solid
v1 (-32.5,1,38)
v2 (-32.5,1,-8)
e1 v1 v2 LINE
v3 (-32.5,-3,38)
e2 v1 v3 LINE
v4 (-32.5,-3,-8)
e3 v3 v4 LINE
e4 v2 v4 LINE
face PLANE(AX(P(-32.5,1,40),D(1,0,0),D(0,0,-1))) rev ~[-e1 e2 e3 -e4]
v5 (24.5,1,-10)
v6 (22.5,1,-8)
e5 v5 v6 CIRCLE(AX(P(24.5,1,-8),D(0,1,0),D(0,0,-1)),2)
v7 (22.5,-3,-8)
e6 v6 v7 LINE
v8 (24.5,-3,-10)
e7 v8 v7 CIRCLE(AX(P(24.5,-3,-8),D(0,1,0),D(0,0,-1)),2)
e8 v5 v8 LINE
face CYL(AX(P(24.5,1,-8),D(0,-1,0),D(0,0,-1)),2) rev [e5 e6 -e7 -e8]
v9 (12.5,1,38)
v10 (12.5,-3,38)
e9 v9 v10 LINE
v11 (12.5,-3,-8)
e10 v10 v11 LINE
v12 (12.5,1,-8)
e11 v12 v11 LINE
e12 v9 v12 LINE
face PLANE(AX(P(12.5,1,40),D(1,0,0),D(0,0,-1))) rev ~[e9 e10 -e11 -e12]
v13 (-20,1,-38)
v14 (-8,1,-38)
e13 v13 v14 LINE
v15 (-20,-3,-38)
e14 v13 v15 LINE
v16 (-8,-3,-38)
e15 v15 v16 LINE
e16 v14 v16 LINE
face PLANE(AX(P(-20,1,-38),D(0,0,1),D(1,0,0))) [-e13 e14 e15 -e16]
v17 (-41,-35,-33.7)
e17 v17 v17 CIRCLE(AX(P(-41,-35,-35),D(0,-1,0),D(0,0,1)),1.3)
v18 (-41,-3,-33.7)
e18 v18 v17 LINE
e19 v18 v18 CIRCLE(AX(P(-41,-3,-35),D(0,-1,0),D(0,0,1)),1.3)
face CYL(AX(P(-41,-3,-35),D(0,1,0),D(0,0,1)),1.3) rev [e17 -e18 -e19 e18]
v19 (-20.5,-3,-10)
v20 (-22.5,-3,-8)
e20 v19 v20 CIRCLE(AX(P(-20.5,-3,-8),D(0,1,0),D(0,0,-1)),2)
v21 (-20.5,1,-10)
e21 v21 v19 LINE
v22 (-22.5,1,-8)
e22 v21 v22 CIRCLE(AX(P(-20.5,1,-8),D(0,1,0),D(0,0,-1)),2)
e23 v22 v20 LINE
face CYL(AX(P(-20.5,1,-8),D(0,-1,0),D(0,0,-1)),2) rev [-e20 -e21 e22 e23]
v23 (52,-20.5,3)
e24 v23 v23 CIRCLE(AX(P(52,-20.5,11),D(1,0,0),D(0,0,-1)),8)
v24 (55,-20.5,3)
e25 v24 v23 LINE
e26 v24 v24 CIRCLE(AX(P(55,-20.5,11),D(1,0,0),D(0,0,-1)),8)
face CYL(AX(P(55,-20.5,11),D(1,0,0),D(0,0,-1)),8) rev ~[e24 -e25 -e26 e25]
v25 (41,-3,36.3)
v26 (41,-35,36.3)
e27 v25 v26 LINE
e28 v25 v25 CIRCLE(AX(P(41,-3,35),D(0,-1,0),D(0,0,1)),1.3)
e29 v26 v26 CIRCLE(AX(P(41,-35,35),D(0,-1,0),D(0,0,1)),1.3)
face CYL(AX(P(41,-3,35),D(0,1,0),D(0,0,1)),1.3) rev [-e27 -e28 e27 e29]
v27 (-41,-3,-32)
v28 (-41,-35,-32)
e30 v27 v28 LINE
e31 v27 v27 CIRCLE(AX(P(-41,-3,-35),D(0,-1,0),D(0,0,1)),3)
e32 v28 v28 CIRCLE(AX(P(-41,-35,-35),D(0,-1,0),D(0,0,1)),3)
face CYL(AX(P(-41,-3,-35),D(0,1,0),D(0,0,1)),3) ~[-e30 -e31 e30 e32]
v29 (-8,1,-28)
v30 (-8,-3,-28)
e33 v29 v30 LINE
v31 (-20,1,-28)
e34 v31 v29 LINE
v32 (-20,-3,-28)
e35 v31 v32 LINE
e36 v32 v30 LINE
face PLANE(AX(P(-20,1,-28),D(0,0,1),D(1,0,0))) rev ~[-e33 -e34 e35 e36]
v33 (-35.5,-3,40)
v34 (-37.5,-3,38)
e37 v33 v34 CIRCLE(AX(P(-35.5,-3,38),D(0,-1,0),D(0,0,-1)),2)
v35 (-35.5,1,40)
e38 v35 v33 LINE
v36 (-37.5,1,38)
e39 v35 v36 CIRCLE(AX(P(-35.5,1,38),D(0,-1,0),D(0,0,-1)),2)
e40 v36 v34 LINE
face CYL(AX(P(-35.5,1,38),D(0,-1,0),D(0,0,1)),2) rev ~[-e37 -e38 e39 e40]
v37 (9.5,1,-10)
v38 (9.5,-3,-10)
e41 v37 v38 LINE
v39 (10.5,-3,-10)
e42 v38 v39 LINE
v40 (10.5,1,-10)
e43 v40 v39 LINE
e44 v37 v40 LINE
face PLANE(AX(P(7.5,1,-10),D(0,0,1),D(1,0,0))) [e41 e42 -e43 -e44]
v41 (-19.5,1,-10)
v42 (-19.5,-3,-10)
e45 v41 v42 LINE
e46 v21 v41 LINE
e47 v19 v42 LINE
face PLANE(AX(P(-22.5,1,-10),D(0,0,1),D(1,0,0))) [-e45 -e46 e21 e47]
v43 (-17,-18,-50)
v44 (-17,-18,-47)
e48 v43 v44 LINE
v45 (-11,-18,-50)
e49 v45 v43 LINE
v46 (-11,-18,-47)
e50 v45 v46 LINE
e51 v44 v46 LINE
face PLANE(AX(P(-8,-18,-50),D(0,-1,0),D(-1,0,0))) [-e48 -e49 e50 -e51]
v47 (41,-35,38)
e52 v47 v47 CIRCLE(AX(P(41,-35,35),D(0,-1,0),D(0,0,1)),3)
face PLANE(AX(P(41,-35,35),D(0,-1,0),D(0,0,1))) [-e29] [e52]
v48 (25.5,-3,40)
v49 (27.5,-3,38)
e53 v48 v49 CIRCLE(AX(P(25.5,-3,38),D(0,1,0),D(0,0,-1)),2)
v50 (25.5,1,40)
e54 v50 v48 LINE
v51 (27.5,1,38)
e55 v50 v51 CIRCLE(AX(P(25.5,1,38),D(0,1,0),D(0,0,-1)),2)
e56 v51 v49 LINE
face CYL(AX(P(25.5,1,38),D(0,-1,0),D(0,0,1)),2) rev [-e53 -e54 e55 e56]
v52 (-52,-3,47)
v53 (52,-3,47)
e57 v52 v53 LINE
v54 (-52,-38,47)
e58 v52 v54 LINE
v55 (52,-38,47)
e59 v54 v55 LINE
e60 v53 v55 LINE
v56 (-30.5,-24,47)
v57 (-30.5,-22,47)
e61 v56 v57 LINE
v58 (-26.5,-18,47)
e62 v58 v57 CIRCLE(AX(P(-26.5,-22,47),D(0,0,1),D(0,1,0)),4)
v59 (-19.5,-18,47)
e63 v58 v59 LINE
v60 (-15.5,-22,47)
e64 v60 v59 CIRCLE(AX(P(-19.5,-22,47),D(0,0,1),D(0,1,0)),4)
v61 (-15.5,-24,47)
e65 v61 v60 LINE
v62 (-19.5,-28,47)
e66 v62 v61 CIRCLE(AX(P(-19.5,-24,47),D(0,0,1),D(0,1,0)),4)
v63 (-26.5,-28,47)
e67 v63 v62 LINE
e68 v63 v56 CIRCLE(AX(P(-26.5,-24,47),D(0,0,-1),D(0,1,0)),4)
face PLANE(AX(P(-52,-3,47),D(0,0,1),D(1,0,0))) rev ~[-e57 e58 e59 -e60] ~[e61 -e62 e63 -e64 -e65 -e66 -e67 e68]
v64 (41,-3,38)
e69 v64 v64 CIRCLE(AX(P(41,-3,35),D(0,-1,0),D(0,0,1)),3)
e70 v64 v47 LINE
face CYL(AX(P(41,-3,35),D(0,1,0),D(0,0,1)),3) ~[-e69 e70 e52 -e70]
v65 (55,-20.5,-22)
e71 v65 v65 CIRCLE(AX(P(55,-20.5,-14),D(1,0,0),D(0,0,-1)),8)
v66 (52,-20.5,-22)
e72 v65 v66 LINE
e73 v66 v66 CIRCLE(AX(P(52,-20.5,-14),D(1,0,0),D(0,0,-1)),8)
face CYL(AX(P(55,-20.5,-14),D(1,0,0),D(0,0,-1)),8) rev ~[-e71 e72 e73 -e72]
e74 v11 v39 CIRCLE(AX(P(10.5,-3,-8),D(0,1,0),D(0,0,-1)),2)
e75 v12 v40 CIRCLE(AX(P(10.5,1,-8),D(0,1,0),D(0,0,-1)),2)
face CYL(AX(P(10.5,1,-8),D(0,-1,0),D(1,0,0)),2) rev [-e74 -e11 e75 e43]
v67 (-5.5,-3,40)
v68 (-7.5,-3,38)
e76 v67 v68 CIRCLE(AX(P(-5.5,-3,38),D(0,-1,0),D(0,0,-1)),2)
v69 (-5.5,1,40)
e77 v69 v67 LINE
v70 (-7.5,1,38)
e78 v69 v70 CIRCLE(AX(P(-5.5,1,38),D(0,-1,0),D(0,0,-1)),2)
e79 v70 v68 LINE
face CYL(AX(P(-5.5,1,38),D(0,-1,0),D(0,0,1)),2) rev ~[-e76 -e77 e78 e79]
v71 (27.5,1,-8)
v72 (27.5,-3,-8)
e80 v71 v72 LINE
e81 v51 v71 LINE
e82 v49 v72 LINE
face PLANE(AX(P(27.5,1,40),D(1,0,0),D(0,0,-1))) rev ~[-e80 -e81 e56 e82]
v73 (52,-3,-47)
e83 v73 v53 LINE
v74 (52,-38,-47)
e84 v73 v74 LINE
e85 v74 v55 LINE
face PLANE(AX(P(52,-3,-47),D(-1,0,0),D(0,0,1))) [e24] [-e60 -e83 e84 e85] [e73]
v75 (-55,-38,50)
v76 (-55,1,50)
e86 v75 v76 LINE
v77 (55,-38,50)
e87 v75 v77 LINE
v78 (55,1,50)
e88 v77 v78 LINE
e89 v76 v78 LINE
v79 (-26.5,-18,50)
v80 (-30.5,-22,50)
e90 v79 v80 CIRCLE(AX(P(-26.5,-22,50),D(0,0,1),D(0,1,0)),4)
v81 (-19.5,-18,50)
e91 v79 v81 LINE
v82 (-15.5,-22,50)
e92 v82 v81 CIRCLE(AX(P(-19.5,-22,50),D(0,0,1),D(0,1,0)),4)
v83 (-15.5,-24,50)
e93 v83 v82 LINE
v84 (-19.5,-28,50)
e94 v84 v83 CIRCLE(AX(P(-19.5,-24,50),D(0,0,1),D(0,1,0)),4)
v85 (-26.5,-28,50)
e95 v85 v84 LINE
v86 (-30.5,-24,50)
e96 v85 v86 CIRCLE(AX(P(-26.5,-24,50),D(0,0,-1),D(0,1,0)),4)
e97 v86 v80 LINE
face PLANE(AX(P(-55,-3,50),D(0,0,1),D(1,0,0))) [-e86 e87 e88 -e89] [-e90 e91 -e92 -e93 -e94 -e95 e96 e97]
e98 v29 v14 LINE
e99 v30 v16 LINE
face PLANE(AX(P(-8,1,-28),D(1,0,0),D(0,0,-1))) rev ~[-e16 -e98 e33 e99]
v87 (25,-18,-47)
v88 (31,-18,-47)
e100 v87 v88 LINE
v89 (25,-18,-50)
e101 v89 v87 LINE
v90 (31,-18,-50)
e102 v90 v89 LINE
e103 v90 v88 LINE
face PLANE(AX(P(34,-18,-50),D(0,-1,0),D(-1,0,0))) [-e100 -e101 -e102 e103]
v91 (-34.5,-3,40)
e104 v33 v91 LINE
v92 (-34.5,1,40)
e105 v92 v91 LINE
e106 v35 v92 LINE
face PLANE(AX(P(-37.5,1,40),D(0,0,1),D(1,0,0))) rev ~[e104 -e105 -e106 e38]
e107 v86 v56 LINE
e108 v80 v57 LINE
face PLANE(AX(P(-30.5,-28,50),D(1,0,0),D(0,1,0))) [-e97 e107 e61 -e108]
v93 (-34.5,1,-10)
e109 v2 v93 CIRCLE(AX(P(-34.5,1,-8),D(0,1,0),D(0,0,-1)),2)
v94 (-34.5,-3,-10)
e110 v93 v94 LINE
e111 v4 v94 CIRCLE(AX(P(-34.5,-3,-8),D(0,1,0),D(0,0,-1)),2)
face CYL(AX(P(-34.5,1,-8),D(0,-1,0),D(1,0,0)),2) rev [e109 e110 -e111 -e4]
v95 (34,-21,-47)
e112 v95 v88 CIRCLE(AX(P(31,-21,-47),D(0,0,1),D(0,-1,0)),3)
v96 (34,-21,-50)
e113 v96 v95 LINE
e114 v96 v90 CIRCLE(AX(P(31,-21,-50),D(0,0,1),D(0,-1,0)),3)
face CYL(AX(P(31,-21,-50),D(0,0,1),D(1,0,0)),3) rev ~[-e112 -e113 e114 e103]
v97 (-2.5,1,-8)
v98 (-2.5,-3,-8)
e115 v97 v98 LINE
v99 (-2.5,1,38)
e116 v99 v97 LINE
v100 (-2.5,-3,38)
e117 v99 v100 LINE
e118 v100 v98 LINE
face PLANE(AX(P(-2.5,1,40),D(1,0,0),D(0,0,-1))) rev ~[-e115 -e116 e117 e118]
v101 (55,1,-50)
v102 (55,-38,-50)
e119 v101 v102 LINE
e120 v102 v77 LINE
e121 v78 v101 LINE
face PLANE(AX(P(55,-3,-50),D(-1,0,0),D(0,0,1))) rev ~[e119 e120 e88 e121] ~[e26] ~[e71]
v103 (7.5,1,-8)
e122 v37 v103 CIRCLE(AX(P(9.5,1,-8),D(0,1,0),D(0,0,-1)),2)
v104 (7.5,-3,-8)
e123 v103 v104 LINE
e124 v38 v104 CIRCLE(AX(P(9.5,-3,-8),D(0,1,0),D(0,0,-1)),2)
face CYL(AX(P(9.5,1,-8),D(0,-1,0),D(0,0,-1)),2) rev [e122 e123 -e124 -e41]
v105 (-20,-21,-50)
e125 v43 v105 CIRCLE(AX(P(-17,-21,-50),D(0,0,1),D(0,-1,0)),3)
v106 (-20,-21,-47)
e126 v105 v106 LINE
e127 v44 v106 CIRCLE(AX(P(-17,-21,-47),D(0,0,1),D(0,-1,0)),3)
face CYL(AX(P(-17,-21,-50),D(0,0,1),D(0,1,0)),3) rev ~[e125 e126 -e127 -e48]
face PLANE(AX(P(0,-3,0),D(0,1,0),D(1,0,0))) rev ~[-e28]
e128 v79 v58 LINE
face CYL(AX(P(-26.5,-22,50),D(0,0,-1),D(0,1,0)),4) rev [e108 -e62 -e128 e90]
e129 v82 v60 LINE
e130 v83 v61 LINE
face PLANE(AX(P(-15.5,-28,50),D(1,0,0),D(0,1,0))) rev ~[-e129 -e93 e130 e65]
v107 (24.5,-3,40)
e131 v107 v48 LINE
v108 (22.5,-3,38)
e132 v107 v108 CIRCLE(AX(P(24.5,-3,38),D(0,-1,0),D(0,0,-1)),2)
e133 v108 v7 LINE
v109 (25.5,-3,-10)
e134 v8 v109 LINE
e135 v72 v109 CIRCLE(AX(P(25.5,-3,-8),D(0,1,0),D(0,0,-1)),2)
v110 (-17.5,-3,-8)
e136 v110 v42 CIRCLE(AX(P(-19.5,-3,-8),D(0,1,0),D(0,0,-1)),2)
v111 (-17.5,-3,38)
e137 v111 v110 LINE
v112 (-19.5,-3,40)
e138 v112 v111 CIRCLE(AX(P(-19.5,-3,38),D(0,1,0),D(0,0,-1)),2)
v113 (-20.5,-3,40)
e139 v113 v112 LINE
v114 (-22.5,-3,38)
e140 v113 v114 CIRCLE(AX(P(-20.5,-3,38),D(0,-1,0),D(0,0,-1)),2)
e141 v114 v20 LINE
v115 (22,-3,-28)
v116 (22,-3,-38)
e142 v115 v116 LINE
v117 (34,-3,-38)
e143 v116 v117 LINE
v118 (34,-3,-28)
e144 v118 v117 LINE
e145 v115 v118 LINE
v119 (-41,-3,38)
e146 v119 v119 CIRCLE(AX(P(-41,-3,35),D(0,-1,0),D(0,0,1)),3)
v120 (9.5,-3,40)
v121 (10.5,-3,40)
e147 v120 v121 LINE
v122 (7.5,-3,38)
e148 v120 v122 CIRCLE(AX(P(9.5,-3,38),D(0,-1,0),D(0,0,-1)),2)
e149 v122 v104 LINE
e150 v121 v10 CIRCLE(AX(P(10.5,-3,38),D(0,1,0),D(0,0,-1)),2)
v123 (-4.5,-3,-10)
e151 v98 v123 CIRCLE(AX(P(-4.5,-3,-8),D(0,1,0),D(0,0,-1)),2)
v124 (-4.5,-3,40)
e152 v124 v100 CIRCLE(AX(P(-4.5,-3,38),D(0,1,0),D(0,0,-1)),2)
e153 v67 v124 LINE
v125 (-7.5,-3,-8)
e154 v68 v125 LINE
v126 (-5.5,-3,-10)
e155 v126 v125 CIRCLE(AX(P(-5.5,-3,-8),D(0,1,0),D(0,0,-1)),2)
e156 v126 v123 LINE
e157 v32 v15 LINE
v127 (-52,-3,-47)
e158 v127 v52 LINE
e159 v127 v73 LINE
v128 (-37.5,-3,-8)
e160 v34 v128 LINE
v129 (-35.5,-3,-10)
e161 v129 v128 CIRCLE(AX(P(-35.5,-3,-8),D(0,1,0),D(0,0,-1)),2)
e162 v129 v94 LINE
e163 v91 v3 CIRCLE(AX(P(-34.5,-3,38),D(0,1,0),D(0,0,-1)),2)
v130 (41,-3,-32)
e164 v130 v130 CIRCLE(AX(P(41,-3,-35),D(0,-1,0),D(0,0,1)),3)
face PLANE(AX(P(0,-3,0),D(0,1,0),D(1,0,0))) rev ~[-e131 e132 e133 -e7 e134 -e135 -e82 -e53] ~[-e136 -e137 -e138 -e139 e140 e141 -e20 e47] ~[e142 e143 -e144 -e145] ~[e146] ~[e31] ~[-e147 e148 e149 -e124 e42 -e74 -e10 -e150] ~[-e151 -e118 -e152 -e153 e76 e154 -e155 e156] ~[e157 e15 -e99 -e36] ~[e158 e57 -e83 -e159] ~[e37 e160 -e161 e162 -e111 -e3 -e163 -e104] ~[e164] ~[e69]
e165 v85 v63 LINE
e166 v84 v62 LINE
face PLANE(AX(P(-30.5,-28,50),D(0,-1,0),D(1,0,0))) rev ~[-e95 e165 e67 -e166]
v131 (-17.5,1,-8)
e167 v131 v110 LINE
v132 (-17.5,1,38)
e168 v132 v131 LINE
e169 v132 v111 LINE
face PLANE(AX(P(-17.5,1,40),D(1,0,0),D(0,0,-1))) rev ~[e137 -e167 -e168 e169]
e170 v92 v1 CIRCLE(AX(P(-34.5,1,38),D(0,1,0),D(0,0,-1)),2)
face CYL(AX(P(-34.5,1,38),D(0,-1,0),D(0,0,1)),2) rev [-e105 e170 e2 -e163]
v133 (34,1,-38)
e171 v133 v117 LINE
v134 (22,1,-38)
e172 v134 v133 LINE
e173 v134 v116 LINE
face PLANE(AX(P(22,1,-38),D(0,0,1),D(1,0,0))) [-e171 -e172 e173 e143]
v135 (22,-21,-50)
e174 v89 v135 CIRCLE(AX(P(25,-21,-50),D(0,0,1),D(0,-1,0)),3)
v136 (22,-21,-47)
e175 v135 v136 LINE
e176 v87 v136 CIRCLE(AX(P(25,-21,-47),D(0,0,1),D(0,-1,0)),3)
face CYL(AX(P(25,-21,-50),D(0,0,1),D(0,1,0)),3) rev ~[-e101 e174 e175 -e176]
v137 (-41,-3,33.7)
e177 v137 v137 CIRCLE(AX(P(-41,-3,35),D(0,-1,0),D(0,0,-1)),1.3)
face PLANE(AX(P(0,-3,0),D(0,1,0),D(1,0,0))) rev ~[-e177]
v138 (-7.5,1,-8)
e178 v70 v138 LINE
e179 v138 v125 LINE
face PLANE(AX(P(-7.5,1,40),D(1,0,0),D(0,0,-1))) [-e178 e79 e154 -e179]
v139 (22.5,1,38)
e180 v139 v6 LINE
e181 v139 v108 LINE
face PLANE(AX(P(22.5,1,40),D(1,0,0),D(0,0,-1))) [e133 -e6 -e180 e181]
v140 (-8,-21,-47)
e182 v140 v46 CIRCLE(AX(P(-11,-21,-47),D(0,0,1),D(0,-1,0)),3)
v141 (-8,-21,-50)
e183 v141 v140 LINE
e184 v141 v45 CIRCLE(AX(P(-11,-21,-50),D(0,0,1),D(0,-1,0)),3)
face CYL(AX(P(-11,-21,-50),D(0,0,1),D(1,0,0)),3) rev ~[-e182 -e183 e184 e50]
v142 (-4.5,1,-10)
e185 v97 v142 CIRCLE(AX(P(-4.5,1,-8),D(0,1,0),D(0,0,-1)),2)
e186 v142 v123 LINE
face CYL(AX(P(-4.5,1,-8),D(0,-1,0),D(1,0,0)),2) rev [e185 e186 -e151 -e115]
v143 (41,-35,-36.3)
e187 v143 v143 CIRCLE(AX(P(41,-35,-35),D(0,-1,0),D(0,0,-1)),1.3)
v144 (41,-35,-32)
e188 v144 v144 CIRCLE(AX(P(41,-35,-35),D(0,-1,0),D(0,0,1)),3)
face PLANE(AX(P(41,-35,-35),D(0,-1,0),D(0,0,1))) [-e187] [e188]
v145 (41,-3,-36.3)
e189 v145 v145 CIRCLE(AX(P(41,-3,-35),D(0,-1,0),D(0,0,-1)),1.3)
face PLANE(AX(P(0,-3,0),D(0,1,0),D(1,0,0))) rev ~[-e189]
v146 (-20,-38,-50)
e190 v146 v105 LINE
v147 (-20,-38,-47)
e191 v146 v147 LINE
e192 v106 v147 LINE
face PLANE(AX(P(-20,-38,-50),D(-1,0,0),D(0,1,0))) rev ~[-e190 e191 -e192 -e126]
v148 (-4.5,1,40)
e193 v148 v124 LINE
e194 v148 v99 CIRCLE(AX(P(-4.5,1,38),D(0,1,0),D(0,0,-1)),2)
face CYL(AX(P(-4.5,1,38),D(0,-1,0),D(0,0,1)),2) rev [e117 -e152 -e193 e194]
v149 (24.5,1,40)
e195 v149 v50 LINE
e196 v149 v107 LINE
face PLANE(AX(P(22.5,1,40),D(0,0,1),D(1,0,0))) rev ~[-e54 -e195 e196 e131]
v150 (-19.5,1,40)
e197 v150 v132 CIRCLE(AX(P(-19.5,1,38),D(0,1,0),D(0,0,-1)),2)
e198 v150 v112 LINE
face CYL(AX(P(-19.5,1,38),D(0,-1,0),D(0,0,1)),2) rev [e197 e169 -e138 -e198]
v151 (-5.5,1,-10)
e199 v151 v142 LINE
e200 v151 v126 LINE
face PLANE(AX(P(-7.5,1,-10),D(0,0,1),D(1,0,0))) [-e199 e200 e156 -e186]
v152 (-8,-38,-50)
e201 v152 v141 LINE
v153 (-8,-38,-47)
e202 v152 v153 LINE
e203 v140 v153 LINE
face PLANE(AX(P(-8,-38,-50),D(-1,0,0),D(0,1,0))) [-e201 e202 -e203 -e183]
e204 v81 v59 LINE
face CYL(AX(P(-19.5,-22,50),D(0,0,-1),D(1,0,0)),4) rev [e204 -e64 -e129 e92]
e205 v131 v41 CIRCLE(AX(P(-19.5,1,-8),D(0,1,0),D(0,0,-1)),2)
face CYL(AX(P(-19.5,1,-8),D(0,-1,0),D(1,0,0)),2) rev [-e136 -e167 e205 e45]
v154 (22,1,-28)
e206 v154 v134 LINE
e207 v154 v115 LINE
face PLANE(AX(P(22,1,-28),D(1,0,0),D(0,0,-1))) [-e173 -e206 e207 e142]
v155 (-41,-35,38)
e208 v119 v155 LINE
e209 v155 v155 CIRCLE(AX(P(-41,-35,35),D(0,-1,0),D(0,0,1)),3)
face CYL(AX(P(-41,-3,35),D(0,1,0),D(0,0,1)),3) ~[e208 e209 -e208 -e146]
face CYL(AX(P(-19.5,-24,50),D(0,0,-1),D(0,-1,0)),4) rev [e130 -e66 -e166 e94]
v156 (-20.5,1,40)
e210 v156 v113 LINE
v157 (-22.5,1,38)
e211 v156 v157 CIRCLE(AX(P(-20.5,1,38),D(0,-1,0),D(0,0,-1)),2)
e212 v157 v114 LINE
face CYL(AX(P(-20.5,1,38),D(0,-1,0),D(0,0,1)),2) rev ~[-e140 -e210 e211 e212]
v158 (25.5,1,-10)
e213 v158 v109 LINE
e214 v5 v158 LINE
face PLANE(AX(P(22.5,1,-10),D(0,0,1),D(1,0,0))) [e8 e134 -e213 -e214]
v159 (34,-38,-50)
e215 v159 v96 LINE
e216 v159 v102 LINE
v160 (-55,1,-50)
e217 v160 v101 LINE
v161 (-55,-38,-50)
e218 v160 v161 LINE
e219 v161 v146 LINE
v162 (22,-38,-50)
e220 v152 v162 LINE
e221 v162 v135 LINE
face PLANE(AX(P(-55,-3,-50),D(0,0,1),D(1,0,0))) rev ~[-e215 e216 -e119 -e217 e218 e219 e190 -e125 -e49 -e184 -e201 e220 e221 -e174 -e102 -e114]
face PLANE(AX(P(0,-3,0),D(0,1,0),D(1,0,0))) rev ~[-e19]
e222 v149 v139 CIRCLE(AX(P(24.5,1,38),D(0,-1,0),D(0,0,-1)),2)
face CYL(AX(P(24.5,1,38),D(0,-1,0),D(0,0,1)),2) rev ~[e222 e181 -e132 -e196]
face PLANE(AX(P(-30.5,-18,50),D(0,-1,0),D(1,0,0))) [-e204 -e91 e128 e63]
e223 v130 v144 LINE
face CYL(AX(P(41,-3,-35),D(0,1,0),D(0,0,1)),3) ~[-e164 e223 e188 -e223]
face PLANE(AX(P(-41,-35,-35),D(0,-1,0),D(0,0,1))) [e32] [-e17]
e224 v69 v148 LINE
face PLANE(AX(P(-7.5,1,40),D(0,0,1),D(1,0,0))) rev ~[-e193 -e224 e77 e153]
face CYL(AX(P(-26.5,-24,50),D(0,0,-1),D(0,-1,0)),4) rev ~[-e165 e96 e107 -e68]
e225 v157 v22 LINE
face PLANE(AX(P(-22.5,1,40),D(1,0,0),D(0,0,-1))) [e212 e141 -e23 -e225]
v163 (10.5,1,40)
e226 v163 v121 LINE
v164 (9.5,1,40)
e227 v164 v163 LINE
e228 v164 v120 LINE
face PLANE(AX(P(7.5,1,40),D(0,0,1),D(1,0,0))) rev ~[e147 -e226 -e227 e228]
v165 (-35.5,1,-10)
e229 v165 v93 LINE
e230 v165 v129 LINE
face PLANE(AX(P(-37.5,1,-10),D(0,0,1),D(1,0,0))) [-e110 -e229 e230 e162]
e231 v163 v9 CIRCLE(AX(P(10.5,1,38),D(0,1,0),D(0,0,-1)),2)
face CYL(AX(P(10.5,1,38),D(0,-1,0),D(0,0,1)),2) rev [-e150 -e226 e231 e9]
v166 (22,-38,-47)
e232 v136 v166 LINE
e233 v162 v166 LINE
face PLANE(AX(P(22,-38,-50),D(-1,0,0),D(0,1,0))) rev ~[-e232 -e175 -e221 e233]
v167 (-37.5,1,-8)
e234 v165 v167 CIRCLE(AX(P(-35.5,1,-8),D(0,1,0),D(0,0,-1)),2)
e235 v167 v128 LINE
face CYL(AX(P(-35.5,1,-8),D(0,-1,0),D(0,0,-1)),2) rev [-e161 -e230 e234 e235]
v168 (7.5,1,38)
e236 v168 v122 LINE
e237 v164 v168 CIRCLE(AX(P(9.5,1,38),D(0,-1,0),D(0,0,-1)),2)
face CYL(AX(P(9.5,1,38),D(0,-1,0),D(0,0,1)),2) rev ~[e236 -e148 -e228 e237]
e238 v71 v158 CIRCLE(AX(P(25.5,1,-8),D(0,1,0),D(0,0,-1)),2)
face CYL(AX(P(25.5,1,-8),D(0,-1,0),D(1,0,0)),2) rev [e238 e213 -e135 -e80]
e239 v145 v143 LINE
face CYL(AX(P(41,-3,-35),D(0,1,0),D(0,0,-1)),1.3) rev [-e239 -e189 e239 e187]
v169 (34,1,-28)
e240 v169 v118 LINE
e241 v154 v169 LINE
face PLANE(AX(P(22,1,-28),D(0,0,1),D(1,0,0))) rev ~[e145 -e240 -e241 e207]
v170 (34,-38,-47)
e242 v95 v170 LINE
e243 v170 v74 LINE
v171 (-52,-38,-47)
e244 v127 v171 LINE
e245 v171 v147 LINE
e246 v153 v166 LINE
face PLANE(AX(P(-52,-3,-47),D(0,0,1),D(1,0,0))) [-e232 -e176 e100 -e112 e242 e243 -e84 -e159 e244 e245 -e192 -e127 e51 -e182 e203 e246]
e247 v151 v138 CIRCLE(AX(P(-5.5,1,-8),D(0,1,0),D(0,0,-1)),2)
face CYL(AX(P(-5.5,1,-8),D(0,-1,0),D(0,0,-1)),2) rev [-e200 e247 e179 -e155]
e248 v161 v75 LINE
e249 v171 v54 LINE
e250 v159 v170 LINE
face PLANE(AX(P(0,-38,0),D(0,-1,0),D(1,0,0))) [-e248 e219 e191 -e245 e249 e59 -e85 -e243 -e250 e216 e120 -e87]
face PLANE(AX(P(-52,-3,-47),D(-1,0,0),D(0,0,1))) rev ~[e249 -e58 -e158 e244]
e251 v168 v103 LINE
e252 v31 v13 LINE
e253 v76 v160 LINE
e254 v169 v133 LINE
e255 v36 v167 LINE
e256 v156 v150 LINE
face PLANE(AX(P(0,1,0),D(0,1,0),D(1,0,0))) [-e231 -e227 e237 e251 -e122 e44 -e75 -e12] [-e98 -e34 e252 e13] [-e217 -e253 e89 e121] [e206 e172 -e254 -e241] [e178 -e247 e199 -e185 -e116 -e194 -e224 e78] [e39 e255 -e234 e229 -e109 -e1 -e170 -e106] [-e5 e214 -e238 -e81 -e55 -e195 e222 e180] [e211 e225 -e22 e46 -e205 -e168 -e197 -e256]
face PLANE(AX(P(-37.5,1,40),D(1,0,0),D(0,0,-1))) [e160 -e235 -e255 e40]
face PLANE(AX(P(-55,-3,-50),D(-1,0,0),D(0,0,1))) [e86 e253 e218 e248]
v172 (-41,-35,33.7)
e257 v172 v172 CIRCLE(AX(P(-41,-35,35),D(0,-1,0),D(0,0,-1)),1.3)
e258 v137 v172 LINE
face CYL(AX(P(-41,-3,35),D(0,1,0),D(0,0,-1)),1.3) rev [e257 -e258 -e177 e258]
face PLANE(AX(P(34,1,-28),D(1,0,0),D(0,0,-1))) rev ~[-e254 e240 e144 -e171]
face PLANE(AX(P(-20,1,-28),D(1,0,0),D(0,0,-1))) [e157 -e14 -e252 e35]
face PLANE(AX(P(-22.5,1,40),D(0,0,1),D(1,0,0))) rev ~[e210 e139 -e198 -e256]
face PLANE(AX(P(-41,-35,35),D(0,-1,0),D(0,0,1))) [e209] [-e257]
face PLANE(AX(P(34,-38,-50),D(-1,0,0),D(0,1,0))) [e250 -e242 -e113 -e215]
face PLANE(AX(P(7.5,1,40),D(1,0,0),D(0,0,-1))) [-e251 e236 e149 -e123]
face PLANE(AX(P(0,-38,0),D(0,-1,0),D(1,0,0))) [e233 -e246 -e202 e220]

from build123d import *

# Parameters (mm, degrees)
BOSS_EXTRUDE1_DEPTH      = 1
BOSS_EXTRUDE1_DEPTH_BACK = 3
SKETCH1_W                = 110
SKETCH1_H                = 100
SKETCH2_W                = 110
SKETCH2_H                = 100
SKETCH2_W_2              = 104
SKETCH2_H_2              = 94
BOSS_EXTRUDE2_DEPTH      = 35
SKETCH3_R                = 3
SKETCH3_R_2              = 1.3
BOSS_EXTRUDE3_DEPTH      = 32
SKETCH5_W                = 12
SKETCH5_H                = 20
CUT_EXTRUDE5_DEPTH       = 32
SKETCH6_W                = 15
SKETCH6_H                = 10
CUT_EXTRUDE6_DEPTH       = 32
SKETCH7_R                = 8
CUT_EXTRUDE7_DEPTH       = 22
SKETCH8_W                = 12
SKETCH8_H                = 10
CUT_EXTRUDE8_DEPTH       = 22
SKETCH9_W                = 5
SKETCH9_H                = 50
CUT_EXTRUDE9_DEPTH       = 10
FILLET1_R                = 2
FILLET2_R                = 3
FILLET3_R                = 4


with BuildPart() as part:
    # Sketch1 → Boss-Extrude1 (new, two sides: drawn at the far end of the back side and taken through both)
    with BuildSketch(Plane(origin=(0, 0, 0), x_dir=(1, 0, 0), z_dir=(0, 1, 0)).offset(-BOSS_EXTRUDE1_DEPTH_BACK)):
        Rectangle(SKETCH1_W, SKETCH1_H)
    extrude(amount=BOSS_EXTRUDE1_DEPTH + BOSS_EXTRUDE1_DEPTH_BACK)

    # Sketch2 → Boss-Extrude2 (add)
    with BuildSketch(Plane.XZ.offset(3)):
        Rectangle(SKETCH2_W, SKETCH2_H)
        Rectangle(SKETCH2_W_2, SKETCH2_H_2, mode=Mode.SUBTRACT)
    extrude(amount=BOSS_EXTRUDE2_DEPTH)

    # Sketch3 → Boss-Extrude3 (add)
    # profile 1 of 4: a face of its own
    with BuildSketch(Plane.XZ.offset(3)):
        with Locations(Location((-41, 35, 0), (0, 0, 90))):
            Circle(SKETCH3_R)
        with Locations(Location((-41, 35, 0), (0, 0, 270))):
            Circle(SKETCH3_R_2, mode=Mode.SUBTRACT)
    # profile 2 of 4: a face of its own
    with BuildSketch(Plane.XZ.offset(3)):
        with Locations(Location((-41, -35, 0), (0, 0, 90))):
            Circle(SKETCH3_R)
        with Locations(Location((-41, -35, 0), (0, 0, 90))):
            Circle(SKETCH3_R_2, mode=Mode.SUBTRACT)
    # profile 3 of 4: a face of its own
    with BuildSketch(Plane.XZ.offset(3)):
        with Locations(Location((41, -35, 0), (0, 0, 90))):
            Circle(SKETCH3_R)
        with Locations(Location((41, -35, 0), (0, 0, 270))):
            Circle(SKETCH3_R_2, mode=Mode.SUBTRACT)
    # profile 4 of 4: a face of its own
    with BuildSketch(Plane.XZ.offset(3)):
        with Locations(Location((41, 35, 0), (0, 0, 90))):
            Circle(SKETCH3_R)
        with Locations(Location((41, 35, 0), (0, 0, 90))):
            Circle(SKETCH3_R_2, mode=Mode.SUBTRACT)
    extrude(amount=BOSS_EXTRUDE3_DEPTH)

    # Sketch5 → Cut-Extrude5 (cut)
    with BuildSketch(Plane(origin=(0, 0, -50), x_dir=(-1, 0, 0), z_dir=(0, 0, -1))):
        with Locations((-28, -28)):
            Rectangle(SKETCH5_W, SKETCH5_H)
        with Locations((14, -28)):
            Rectangle(SKETCH5_W, SKETCH5_H)
    extrude(amount=-CUT_EXTRUDE5_DEPTH, mode=Mode.SUBTRACT)

    # Sketch6 → Cut-Extrude6 (cut)
    with BuildSketch(Plane.XY.offset(50)):
        with Locations((-23, -23)):
            Rectangle(SKETCH6_W, SKETCH6_H)
    extrude(amount=-CUT_EXTRUDE6_DEPTH, mode=Mode.SUBTRACT)

    # Sketch7 → Cut-Extrude7 (cut)
    with BuildSketch(Plane(origin=(55, 0, 0), x_dir=(0, 0, -1), z_dir=(1, 0, 0))):
        with Locations((-11, -20.5)):
            Circle(SKETCH7_R)
        with Locations((14, -20.5)):
            Circle(SKETCH7_R)
    extrude(amount=-CUT_EXTRUDE7_DEPTH, mode=Mode.SUBTRACT)

    # Sketch8 → Cut-Extrude8 (cut)
    with BuildSketch(Plane(origin=(0, 1, 0), x_dir=(1, 0, 0), z_dir=(0, 1, 0))):
        with Locations((28, 33)):
            Rectangle(SKETCH8_W, SKETCH8_H)
        with Locations((-14, 33)):
            Rectangle(SKETCH8_W, SKETCH8_H)
    extrude(amount=-CUT_EXTRUDE8_DEPTH, mode=Mode.SUBTRACT)

    # Sketch9 → Cut-Extrude9 (cut)
    with BuildSketch(Plane(origin=(0, 1, 0), x_dir=(1, 0, 0), z_dir=(0, 1, 0))):
        with Locations((-35, -15)):
            Rectangle(SKETCH9_W, SKETCH9_H)
        with Locations((-20, -15)):
            Rectangle(SKETCH9_W, SKETCH9_H)
        with Locations((-5, -15)):
            Rectangle(SKETCH9_W, SKETCH9_H)
        with Locations((10, -15)):
            Rectangle(SKETCH9_W, SKETCH9_H)
        with Locations((25, -15)):
            Rectangle(SKETCH9_W, SKETCH9_H)
    extrude(amount=-CUT_EXTRUDE9_DEPTH, mode=Mode.SUBTRACT)

    # Fillet1
    fillet1_edges = [part.edges().sort_by_distance(p)[0] for p in [
        (-32.5, -1, -10),
        (-32.5, -1, 40),
        (-37.5, -1, 40),
        (-37.5, -1, -10),
        (-17.5, -1, -10),
        (-17.5, -1, 40),
        (-22.5, -1, 40),
        (-22.5, -1, -10),
        (-2.5, -1, -10),
        (-2.5, -1, 40),
        (-7.5, -1, 40),
        (-7.5, -1, -10),
        (7.5, -1, 40),
        (7.5, -1, -10),
        (12.5, -1, -10),
        (12.5, -1, 40),
        (22.5, -1, 40),
        (22.5, -1, -10),
        (27.5, -1, -10),
        (27.5, -1, 40),
    ]]
    fillet(fillet1_edges, radius=FILLET1_R)

    # Fillet2
    fillet2_edges = [part.edges().sort_by_distance(p)[0] for p in [
        (-20, -18, -48.5),
        (-8, -18, -48.5),
        (34, -18, -48.5),
        (22, -18, -48.5),
    ]]
    fillet(fillet2_edges, radius=FILLET2_R)

    # Fillet3
    fillet3_edges = [part.edges().sort_by_distance(p)[0] for p in [
        (-15.5, -18, 48.5),
        (-15.5, -28, 48.5),
        (-30.5, -28, 48.5),
        (-30.5, -18, 48.5),
    ]]
    fillet(fillet3_edges, radius=FILLET3_R)


solid = part.part
